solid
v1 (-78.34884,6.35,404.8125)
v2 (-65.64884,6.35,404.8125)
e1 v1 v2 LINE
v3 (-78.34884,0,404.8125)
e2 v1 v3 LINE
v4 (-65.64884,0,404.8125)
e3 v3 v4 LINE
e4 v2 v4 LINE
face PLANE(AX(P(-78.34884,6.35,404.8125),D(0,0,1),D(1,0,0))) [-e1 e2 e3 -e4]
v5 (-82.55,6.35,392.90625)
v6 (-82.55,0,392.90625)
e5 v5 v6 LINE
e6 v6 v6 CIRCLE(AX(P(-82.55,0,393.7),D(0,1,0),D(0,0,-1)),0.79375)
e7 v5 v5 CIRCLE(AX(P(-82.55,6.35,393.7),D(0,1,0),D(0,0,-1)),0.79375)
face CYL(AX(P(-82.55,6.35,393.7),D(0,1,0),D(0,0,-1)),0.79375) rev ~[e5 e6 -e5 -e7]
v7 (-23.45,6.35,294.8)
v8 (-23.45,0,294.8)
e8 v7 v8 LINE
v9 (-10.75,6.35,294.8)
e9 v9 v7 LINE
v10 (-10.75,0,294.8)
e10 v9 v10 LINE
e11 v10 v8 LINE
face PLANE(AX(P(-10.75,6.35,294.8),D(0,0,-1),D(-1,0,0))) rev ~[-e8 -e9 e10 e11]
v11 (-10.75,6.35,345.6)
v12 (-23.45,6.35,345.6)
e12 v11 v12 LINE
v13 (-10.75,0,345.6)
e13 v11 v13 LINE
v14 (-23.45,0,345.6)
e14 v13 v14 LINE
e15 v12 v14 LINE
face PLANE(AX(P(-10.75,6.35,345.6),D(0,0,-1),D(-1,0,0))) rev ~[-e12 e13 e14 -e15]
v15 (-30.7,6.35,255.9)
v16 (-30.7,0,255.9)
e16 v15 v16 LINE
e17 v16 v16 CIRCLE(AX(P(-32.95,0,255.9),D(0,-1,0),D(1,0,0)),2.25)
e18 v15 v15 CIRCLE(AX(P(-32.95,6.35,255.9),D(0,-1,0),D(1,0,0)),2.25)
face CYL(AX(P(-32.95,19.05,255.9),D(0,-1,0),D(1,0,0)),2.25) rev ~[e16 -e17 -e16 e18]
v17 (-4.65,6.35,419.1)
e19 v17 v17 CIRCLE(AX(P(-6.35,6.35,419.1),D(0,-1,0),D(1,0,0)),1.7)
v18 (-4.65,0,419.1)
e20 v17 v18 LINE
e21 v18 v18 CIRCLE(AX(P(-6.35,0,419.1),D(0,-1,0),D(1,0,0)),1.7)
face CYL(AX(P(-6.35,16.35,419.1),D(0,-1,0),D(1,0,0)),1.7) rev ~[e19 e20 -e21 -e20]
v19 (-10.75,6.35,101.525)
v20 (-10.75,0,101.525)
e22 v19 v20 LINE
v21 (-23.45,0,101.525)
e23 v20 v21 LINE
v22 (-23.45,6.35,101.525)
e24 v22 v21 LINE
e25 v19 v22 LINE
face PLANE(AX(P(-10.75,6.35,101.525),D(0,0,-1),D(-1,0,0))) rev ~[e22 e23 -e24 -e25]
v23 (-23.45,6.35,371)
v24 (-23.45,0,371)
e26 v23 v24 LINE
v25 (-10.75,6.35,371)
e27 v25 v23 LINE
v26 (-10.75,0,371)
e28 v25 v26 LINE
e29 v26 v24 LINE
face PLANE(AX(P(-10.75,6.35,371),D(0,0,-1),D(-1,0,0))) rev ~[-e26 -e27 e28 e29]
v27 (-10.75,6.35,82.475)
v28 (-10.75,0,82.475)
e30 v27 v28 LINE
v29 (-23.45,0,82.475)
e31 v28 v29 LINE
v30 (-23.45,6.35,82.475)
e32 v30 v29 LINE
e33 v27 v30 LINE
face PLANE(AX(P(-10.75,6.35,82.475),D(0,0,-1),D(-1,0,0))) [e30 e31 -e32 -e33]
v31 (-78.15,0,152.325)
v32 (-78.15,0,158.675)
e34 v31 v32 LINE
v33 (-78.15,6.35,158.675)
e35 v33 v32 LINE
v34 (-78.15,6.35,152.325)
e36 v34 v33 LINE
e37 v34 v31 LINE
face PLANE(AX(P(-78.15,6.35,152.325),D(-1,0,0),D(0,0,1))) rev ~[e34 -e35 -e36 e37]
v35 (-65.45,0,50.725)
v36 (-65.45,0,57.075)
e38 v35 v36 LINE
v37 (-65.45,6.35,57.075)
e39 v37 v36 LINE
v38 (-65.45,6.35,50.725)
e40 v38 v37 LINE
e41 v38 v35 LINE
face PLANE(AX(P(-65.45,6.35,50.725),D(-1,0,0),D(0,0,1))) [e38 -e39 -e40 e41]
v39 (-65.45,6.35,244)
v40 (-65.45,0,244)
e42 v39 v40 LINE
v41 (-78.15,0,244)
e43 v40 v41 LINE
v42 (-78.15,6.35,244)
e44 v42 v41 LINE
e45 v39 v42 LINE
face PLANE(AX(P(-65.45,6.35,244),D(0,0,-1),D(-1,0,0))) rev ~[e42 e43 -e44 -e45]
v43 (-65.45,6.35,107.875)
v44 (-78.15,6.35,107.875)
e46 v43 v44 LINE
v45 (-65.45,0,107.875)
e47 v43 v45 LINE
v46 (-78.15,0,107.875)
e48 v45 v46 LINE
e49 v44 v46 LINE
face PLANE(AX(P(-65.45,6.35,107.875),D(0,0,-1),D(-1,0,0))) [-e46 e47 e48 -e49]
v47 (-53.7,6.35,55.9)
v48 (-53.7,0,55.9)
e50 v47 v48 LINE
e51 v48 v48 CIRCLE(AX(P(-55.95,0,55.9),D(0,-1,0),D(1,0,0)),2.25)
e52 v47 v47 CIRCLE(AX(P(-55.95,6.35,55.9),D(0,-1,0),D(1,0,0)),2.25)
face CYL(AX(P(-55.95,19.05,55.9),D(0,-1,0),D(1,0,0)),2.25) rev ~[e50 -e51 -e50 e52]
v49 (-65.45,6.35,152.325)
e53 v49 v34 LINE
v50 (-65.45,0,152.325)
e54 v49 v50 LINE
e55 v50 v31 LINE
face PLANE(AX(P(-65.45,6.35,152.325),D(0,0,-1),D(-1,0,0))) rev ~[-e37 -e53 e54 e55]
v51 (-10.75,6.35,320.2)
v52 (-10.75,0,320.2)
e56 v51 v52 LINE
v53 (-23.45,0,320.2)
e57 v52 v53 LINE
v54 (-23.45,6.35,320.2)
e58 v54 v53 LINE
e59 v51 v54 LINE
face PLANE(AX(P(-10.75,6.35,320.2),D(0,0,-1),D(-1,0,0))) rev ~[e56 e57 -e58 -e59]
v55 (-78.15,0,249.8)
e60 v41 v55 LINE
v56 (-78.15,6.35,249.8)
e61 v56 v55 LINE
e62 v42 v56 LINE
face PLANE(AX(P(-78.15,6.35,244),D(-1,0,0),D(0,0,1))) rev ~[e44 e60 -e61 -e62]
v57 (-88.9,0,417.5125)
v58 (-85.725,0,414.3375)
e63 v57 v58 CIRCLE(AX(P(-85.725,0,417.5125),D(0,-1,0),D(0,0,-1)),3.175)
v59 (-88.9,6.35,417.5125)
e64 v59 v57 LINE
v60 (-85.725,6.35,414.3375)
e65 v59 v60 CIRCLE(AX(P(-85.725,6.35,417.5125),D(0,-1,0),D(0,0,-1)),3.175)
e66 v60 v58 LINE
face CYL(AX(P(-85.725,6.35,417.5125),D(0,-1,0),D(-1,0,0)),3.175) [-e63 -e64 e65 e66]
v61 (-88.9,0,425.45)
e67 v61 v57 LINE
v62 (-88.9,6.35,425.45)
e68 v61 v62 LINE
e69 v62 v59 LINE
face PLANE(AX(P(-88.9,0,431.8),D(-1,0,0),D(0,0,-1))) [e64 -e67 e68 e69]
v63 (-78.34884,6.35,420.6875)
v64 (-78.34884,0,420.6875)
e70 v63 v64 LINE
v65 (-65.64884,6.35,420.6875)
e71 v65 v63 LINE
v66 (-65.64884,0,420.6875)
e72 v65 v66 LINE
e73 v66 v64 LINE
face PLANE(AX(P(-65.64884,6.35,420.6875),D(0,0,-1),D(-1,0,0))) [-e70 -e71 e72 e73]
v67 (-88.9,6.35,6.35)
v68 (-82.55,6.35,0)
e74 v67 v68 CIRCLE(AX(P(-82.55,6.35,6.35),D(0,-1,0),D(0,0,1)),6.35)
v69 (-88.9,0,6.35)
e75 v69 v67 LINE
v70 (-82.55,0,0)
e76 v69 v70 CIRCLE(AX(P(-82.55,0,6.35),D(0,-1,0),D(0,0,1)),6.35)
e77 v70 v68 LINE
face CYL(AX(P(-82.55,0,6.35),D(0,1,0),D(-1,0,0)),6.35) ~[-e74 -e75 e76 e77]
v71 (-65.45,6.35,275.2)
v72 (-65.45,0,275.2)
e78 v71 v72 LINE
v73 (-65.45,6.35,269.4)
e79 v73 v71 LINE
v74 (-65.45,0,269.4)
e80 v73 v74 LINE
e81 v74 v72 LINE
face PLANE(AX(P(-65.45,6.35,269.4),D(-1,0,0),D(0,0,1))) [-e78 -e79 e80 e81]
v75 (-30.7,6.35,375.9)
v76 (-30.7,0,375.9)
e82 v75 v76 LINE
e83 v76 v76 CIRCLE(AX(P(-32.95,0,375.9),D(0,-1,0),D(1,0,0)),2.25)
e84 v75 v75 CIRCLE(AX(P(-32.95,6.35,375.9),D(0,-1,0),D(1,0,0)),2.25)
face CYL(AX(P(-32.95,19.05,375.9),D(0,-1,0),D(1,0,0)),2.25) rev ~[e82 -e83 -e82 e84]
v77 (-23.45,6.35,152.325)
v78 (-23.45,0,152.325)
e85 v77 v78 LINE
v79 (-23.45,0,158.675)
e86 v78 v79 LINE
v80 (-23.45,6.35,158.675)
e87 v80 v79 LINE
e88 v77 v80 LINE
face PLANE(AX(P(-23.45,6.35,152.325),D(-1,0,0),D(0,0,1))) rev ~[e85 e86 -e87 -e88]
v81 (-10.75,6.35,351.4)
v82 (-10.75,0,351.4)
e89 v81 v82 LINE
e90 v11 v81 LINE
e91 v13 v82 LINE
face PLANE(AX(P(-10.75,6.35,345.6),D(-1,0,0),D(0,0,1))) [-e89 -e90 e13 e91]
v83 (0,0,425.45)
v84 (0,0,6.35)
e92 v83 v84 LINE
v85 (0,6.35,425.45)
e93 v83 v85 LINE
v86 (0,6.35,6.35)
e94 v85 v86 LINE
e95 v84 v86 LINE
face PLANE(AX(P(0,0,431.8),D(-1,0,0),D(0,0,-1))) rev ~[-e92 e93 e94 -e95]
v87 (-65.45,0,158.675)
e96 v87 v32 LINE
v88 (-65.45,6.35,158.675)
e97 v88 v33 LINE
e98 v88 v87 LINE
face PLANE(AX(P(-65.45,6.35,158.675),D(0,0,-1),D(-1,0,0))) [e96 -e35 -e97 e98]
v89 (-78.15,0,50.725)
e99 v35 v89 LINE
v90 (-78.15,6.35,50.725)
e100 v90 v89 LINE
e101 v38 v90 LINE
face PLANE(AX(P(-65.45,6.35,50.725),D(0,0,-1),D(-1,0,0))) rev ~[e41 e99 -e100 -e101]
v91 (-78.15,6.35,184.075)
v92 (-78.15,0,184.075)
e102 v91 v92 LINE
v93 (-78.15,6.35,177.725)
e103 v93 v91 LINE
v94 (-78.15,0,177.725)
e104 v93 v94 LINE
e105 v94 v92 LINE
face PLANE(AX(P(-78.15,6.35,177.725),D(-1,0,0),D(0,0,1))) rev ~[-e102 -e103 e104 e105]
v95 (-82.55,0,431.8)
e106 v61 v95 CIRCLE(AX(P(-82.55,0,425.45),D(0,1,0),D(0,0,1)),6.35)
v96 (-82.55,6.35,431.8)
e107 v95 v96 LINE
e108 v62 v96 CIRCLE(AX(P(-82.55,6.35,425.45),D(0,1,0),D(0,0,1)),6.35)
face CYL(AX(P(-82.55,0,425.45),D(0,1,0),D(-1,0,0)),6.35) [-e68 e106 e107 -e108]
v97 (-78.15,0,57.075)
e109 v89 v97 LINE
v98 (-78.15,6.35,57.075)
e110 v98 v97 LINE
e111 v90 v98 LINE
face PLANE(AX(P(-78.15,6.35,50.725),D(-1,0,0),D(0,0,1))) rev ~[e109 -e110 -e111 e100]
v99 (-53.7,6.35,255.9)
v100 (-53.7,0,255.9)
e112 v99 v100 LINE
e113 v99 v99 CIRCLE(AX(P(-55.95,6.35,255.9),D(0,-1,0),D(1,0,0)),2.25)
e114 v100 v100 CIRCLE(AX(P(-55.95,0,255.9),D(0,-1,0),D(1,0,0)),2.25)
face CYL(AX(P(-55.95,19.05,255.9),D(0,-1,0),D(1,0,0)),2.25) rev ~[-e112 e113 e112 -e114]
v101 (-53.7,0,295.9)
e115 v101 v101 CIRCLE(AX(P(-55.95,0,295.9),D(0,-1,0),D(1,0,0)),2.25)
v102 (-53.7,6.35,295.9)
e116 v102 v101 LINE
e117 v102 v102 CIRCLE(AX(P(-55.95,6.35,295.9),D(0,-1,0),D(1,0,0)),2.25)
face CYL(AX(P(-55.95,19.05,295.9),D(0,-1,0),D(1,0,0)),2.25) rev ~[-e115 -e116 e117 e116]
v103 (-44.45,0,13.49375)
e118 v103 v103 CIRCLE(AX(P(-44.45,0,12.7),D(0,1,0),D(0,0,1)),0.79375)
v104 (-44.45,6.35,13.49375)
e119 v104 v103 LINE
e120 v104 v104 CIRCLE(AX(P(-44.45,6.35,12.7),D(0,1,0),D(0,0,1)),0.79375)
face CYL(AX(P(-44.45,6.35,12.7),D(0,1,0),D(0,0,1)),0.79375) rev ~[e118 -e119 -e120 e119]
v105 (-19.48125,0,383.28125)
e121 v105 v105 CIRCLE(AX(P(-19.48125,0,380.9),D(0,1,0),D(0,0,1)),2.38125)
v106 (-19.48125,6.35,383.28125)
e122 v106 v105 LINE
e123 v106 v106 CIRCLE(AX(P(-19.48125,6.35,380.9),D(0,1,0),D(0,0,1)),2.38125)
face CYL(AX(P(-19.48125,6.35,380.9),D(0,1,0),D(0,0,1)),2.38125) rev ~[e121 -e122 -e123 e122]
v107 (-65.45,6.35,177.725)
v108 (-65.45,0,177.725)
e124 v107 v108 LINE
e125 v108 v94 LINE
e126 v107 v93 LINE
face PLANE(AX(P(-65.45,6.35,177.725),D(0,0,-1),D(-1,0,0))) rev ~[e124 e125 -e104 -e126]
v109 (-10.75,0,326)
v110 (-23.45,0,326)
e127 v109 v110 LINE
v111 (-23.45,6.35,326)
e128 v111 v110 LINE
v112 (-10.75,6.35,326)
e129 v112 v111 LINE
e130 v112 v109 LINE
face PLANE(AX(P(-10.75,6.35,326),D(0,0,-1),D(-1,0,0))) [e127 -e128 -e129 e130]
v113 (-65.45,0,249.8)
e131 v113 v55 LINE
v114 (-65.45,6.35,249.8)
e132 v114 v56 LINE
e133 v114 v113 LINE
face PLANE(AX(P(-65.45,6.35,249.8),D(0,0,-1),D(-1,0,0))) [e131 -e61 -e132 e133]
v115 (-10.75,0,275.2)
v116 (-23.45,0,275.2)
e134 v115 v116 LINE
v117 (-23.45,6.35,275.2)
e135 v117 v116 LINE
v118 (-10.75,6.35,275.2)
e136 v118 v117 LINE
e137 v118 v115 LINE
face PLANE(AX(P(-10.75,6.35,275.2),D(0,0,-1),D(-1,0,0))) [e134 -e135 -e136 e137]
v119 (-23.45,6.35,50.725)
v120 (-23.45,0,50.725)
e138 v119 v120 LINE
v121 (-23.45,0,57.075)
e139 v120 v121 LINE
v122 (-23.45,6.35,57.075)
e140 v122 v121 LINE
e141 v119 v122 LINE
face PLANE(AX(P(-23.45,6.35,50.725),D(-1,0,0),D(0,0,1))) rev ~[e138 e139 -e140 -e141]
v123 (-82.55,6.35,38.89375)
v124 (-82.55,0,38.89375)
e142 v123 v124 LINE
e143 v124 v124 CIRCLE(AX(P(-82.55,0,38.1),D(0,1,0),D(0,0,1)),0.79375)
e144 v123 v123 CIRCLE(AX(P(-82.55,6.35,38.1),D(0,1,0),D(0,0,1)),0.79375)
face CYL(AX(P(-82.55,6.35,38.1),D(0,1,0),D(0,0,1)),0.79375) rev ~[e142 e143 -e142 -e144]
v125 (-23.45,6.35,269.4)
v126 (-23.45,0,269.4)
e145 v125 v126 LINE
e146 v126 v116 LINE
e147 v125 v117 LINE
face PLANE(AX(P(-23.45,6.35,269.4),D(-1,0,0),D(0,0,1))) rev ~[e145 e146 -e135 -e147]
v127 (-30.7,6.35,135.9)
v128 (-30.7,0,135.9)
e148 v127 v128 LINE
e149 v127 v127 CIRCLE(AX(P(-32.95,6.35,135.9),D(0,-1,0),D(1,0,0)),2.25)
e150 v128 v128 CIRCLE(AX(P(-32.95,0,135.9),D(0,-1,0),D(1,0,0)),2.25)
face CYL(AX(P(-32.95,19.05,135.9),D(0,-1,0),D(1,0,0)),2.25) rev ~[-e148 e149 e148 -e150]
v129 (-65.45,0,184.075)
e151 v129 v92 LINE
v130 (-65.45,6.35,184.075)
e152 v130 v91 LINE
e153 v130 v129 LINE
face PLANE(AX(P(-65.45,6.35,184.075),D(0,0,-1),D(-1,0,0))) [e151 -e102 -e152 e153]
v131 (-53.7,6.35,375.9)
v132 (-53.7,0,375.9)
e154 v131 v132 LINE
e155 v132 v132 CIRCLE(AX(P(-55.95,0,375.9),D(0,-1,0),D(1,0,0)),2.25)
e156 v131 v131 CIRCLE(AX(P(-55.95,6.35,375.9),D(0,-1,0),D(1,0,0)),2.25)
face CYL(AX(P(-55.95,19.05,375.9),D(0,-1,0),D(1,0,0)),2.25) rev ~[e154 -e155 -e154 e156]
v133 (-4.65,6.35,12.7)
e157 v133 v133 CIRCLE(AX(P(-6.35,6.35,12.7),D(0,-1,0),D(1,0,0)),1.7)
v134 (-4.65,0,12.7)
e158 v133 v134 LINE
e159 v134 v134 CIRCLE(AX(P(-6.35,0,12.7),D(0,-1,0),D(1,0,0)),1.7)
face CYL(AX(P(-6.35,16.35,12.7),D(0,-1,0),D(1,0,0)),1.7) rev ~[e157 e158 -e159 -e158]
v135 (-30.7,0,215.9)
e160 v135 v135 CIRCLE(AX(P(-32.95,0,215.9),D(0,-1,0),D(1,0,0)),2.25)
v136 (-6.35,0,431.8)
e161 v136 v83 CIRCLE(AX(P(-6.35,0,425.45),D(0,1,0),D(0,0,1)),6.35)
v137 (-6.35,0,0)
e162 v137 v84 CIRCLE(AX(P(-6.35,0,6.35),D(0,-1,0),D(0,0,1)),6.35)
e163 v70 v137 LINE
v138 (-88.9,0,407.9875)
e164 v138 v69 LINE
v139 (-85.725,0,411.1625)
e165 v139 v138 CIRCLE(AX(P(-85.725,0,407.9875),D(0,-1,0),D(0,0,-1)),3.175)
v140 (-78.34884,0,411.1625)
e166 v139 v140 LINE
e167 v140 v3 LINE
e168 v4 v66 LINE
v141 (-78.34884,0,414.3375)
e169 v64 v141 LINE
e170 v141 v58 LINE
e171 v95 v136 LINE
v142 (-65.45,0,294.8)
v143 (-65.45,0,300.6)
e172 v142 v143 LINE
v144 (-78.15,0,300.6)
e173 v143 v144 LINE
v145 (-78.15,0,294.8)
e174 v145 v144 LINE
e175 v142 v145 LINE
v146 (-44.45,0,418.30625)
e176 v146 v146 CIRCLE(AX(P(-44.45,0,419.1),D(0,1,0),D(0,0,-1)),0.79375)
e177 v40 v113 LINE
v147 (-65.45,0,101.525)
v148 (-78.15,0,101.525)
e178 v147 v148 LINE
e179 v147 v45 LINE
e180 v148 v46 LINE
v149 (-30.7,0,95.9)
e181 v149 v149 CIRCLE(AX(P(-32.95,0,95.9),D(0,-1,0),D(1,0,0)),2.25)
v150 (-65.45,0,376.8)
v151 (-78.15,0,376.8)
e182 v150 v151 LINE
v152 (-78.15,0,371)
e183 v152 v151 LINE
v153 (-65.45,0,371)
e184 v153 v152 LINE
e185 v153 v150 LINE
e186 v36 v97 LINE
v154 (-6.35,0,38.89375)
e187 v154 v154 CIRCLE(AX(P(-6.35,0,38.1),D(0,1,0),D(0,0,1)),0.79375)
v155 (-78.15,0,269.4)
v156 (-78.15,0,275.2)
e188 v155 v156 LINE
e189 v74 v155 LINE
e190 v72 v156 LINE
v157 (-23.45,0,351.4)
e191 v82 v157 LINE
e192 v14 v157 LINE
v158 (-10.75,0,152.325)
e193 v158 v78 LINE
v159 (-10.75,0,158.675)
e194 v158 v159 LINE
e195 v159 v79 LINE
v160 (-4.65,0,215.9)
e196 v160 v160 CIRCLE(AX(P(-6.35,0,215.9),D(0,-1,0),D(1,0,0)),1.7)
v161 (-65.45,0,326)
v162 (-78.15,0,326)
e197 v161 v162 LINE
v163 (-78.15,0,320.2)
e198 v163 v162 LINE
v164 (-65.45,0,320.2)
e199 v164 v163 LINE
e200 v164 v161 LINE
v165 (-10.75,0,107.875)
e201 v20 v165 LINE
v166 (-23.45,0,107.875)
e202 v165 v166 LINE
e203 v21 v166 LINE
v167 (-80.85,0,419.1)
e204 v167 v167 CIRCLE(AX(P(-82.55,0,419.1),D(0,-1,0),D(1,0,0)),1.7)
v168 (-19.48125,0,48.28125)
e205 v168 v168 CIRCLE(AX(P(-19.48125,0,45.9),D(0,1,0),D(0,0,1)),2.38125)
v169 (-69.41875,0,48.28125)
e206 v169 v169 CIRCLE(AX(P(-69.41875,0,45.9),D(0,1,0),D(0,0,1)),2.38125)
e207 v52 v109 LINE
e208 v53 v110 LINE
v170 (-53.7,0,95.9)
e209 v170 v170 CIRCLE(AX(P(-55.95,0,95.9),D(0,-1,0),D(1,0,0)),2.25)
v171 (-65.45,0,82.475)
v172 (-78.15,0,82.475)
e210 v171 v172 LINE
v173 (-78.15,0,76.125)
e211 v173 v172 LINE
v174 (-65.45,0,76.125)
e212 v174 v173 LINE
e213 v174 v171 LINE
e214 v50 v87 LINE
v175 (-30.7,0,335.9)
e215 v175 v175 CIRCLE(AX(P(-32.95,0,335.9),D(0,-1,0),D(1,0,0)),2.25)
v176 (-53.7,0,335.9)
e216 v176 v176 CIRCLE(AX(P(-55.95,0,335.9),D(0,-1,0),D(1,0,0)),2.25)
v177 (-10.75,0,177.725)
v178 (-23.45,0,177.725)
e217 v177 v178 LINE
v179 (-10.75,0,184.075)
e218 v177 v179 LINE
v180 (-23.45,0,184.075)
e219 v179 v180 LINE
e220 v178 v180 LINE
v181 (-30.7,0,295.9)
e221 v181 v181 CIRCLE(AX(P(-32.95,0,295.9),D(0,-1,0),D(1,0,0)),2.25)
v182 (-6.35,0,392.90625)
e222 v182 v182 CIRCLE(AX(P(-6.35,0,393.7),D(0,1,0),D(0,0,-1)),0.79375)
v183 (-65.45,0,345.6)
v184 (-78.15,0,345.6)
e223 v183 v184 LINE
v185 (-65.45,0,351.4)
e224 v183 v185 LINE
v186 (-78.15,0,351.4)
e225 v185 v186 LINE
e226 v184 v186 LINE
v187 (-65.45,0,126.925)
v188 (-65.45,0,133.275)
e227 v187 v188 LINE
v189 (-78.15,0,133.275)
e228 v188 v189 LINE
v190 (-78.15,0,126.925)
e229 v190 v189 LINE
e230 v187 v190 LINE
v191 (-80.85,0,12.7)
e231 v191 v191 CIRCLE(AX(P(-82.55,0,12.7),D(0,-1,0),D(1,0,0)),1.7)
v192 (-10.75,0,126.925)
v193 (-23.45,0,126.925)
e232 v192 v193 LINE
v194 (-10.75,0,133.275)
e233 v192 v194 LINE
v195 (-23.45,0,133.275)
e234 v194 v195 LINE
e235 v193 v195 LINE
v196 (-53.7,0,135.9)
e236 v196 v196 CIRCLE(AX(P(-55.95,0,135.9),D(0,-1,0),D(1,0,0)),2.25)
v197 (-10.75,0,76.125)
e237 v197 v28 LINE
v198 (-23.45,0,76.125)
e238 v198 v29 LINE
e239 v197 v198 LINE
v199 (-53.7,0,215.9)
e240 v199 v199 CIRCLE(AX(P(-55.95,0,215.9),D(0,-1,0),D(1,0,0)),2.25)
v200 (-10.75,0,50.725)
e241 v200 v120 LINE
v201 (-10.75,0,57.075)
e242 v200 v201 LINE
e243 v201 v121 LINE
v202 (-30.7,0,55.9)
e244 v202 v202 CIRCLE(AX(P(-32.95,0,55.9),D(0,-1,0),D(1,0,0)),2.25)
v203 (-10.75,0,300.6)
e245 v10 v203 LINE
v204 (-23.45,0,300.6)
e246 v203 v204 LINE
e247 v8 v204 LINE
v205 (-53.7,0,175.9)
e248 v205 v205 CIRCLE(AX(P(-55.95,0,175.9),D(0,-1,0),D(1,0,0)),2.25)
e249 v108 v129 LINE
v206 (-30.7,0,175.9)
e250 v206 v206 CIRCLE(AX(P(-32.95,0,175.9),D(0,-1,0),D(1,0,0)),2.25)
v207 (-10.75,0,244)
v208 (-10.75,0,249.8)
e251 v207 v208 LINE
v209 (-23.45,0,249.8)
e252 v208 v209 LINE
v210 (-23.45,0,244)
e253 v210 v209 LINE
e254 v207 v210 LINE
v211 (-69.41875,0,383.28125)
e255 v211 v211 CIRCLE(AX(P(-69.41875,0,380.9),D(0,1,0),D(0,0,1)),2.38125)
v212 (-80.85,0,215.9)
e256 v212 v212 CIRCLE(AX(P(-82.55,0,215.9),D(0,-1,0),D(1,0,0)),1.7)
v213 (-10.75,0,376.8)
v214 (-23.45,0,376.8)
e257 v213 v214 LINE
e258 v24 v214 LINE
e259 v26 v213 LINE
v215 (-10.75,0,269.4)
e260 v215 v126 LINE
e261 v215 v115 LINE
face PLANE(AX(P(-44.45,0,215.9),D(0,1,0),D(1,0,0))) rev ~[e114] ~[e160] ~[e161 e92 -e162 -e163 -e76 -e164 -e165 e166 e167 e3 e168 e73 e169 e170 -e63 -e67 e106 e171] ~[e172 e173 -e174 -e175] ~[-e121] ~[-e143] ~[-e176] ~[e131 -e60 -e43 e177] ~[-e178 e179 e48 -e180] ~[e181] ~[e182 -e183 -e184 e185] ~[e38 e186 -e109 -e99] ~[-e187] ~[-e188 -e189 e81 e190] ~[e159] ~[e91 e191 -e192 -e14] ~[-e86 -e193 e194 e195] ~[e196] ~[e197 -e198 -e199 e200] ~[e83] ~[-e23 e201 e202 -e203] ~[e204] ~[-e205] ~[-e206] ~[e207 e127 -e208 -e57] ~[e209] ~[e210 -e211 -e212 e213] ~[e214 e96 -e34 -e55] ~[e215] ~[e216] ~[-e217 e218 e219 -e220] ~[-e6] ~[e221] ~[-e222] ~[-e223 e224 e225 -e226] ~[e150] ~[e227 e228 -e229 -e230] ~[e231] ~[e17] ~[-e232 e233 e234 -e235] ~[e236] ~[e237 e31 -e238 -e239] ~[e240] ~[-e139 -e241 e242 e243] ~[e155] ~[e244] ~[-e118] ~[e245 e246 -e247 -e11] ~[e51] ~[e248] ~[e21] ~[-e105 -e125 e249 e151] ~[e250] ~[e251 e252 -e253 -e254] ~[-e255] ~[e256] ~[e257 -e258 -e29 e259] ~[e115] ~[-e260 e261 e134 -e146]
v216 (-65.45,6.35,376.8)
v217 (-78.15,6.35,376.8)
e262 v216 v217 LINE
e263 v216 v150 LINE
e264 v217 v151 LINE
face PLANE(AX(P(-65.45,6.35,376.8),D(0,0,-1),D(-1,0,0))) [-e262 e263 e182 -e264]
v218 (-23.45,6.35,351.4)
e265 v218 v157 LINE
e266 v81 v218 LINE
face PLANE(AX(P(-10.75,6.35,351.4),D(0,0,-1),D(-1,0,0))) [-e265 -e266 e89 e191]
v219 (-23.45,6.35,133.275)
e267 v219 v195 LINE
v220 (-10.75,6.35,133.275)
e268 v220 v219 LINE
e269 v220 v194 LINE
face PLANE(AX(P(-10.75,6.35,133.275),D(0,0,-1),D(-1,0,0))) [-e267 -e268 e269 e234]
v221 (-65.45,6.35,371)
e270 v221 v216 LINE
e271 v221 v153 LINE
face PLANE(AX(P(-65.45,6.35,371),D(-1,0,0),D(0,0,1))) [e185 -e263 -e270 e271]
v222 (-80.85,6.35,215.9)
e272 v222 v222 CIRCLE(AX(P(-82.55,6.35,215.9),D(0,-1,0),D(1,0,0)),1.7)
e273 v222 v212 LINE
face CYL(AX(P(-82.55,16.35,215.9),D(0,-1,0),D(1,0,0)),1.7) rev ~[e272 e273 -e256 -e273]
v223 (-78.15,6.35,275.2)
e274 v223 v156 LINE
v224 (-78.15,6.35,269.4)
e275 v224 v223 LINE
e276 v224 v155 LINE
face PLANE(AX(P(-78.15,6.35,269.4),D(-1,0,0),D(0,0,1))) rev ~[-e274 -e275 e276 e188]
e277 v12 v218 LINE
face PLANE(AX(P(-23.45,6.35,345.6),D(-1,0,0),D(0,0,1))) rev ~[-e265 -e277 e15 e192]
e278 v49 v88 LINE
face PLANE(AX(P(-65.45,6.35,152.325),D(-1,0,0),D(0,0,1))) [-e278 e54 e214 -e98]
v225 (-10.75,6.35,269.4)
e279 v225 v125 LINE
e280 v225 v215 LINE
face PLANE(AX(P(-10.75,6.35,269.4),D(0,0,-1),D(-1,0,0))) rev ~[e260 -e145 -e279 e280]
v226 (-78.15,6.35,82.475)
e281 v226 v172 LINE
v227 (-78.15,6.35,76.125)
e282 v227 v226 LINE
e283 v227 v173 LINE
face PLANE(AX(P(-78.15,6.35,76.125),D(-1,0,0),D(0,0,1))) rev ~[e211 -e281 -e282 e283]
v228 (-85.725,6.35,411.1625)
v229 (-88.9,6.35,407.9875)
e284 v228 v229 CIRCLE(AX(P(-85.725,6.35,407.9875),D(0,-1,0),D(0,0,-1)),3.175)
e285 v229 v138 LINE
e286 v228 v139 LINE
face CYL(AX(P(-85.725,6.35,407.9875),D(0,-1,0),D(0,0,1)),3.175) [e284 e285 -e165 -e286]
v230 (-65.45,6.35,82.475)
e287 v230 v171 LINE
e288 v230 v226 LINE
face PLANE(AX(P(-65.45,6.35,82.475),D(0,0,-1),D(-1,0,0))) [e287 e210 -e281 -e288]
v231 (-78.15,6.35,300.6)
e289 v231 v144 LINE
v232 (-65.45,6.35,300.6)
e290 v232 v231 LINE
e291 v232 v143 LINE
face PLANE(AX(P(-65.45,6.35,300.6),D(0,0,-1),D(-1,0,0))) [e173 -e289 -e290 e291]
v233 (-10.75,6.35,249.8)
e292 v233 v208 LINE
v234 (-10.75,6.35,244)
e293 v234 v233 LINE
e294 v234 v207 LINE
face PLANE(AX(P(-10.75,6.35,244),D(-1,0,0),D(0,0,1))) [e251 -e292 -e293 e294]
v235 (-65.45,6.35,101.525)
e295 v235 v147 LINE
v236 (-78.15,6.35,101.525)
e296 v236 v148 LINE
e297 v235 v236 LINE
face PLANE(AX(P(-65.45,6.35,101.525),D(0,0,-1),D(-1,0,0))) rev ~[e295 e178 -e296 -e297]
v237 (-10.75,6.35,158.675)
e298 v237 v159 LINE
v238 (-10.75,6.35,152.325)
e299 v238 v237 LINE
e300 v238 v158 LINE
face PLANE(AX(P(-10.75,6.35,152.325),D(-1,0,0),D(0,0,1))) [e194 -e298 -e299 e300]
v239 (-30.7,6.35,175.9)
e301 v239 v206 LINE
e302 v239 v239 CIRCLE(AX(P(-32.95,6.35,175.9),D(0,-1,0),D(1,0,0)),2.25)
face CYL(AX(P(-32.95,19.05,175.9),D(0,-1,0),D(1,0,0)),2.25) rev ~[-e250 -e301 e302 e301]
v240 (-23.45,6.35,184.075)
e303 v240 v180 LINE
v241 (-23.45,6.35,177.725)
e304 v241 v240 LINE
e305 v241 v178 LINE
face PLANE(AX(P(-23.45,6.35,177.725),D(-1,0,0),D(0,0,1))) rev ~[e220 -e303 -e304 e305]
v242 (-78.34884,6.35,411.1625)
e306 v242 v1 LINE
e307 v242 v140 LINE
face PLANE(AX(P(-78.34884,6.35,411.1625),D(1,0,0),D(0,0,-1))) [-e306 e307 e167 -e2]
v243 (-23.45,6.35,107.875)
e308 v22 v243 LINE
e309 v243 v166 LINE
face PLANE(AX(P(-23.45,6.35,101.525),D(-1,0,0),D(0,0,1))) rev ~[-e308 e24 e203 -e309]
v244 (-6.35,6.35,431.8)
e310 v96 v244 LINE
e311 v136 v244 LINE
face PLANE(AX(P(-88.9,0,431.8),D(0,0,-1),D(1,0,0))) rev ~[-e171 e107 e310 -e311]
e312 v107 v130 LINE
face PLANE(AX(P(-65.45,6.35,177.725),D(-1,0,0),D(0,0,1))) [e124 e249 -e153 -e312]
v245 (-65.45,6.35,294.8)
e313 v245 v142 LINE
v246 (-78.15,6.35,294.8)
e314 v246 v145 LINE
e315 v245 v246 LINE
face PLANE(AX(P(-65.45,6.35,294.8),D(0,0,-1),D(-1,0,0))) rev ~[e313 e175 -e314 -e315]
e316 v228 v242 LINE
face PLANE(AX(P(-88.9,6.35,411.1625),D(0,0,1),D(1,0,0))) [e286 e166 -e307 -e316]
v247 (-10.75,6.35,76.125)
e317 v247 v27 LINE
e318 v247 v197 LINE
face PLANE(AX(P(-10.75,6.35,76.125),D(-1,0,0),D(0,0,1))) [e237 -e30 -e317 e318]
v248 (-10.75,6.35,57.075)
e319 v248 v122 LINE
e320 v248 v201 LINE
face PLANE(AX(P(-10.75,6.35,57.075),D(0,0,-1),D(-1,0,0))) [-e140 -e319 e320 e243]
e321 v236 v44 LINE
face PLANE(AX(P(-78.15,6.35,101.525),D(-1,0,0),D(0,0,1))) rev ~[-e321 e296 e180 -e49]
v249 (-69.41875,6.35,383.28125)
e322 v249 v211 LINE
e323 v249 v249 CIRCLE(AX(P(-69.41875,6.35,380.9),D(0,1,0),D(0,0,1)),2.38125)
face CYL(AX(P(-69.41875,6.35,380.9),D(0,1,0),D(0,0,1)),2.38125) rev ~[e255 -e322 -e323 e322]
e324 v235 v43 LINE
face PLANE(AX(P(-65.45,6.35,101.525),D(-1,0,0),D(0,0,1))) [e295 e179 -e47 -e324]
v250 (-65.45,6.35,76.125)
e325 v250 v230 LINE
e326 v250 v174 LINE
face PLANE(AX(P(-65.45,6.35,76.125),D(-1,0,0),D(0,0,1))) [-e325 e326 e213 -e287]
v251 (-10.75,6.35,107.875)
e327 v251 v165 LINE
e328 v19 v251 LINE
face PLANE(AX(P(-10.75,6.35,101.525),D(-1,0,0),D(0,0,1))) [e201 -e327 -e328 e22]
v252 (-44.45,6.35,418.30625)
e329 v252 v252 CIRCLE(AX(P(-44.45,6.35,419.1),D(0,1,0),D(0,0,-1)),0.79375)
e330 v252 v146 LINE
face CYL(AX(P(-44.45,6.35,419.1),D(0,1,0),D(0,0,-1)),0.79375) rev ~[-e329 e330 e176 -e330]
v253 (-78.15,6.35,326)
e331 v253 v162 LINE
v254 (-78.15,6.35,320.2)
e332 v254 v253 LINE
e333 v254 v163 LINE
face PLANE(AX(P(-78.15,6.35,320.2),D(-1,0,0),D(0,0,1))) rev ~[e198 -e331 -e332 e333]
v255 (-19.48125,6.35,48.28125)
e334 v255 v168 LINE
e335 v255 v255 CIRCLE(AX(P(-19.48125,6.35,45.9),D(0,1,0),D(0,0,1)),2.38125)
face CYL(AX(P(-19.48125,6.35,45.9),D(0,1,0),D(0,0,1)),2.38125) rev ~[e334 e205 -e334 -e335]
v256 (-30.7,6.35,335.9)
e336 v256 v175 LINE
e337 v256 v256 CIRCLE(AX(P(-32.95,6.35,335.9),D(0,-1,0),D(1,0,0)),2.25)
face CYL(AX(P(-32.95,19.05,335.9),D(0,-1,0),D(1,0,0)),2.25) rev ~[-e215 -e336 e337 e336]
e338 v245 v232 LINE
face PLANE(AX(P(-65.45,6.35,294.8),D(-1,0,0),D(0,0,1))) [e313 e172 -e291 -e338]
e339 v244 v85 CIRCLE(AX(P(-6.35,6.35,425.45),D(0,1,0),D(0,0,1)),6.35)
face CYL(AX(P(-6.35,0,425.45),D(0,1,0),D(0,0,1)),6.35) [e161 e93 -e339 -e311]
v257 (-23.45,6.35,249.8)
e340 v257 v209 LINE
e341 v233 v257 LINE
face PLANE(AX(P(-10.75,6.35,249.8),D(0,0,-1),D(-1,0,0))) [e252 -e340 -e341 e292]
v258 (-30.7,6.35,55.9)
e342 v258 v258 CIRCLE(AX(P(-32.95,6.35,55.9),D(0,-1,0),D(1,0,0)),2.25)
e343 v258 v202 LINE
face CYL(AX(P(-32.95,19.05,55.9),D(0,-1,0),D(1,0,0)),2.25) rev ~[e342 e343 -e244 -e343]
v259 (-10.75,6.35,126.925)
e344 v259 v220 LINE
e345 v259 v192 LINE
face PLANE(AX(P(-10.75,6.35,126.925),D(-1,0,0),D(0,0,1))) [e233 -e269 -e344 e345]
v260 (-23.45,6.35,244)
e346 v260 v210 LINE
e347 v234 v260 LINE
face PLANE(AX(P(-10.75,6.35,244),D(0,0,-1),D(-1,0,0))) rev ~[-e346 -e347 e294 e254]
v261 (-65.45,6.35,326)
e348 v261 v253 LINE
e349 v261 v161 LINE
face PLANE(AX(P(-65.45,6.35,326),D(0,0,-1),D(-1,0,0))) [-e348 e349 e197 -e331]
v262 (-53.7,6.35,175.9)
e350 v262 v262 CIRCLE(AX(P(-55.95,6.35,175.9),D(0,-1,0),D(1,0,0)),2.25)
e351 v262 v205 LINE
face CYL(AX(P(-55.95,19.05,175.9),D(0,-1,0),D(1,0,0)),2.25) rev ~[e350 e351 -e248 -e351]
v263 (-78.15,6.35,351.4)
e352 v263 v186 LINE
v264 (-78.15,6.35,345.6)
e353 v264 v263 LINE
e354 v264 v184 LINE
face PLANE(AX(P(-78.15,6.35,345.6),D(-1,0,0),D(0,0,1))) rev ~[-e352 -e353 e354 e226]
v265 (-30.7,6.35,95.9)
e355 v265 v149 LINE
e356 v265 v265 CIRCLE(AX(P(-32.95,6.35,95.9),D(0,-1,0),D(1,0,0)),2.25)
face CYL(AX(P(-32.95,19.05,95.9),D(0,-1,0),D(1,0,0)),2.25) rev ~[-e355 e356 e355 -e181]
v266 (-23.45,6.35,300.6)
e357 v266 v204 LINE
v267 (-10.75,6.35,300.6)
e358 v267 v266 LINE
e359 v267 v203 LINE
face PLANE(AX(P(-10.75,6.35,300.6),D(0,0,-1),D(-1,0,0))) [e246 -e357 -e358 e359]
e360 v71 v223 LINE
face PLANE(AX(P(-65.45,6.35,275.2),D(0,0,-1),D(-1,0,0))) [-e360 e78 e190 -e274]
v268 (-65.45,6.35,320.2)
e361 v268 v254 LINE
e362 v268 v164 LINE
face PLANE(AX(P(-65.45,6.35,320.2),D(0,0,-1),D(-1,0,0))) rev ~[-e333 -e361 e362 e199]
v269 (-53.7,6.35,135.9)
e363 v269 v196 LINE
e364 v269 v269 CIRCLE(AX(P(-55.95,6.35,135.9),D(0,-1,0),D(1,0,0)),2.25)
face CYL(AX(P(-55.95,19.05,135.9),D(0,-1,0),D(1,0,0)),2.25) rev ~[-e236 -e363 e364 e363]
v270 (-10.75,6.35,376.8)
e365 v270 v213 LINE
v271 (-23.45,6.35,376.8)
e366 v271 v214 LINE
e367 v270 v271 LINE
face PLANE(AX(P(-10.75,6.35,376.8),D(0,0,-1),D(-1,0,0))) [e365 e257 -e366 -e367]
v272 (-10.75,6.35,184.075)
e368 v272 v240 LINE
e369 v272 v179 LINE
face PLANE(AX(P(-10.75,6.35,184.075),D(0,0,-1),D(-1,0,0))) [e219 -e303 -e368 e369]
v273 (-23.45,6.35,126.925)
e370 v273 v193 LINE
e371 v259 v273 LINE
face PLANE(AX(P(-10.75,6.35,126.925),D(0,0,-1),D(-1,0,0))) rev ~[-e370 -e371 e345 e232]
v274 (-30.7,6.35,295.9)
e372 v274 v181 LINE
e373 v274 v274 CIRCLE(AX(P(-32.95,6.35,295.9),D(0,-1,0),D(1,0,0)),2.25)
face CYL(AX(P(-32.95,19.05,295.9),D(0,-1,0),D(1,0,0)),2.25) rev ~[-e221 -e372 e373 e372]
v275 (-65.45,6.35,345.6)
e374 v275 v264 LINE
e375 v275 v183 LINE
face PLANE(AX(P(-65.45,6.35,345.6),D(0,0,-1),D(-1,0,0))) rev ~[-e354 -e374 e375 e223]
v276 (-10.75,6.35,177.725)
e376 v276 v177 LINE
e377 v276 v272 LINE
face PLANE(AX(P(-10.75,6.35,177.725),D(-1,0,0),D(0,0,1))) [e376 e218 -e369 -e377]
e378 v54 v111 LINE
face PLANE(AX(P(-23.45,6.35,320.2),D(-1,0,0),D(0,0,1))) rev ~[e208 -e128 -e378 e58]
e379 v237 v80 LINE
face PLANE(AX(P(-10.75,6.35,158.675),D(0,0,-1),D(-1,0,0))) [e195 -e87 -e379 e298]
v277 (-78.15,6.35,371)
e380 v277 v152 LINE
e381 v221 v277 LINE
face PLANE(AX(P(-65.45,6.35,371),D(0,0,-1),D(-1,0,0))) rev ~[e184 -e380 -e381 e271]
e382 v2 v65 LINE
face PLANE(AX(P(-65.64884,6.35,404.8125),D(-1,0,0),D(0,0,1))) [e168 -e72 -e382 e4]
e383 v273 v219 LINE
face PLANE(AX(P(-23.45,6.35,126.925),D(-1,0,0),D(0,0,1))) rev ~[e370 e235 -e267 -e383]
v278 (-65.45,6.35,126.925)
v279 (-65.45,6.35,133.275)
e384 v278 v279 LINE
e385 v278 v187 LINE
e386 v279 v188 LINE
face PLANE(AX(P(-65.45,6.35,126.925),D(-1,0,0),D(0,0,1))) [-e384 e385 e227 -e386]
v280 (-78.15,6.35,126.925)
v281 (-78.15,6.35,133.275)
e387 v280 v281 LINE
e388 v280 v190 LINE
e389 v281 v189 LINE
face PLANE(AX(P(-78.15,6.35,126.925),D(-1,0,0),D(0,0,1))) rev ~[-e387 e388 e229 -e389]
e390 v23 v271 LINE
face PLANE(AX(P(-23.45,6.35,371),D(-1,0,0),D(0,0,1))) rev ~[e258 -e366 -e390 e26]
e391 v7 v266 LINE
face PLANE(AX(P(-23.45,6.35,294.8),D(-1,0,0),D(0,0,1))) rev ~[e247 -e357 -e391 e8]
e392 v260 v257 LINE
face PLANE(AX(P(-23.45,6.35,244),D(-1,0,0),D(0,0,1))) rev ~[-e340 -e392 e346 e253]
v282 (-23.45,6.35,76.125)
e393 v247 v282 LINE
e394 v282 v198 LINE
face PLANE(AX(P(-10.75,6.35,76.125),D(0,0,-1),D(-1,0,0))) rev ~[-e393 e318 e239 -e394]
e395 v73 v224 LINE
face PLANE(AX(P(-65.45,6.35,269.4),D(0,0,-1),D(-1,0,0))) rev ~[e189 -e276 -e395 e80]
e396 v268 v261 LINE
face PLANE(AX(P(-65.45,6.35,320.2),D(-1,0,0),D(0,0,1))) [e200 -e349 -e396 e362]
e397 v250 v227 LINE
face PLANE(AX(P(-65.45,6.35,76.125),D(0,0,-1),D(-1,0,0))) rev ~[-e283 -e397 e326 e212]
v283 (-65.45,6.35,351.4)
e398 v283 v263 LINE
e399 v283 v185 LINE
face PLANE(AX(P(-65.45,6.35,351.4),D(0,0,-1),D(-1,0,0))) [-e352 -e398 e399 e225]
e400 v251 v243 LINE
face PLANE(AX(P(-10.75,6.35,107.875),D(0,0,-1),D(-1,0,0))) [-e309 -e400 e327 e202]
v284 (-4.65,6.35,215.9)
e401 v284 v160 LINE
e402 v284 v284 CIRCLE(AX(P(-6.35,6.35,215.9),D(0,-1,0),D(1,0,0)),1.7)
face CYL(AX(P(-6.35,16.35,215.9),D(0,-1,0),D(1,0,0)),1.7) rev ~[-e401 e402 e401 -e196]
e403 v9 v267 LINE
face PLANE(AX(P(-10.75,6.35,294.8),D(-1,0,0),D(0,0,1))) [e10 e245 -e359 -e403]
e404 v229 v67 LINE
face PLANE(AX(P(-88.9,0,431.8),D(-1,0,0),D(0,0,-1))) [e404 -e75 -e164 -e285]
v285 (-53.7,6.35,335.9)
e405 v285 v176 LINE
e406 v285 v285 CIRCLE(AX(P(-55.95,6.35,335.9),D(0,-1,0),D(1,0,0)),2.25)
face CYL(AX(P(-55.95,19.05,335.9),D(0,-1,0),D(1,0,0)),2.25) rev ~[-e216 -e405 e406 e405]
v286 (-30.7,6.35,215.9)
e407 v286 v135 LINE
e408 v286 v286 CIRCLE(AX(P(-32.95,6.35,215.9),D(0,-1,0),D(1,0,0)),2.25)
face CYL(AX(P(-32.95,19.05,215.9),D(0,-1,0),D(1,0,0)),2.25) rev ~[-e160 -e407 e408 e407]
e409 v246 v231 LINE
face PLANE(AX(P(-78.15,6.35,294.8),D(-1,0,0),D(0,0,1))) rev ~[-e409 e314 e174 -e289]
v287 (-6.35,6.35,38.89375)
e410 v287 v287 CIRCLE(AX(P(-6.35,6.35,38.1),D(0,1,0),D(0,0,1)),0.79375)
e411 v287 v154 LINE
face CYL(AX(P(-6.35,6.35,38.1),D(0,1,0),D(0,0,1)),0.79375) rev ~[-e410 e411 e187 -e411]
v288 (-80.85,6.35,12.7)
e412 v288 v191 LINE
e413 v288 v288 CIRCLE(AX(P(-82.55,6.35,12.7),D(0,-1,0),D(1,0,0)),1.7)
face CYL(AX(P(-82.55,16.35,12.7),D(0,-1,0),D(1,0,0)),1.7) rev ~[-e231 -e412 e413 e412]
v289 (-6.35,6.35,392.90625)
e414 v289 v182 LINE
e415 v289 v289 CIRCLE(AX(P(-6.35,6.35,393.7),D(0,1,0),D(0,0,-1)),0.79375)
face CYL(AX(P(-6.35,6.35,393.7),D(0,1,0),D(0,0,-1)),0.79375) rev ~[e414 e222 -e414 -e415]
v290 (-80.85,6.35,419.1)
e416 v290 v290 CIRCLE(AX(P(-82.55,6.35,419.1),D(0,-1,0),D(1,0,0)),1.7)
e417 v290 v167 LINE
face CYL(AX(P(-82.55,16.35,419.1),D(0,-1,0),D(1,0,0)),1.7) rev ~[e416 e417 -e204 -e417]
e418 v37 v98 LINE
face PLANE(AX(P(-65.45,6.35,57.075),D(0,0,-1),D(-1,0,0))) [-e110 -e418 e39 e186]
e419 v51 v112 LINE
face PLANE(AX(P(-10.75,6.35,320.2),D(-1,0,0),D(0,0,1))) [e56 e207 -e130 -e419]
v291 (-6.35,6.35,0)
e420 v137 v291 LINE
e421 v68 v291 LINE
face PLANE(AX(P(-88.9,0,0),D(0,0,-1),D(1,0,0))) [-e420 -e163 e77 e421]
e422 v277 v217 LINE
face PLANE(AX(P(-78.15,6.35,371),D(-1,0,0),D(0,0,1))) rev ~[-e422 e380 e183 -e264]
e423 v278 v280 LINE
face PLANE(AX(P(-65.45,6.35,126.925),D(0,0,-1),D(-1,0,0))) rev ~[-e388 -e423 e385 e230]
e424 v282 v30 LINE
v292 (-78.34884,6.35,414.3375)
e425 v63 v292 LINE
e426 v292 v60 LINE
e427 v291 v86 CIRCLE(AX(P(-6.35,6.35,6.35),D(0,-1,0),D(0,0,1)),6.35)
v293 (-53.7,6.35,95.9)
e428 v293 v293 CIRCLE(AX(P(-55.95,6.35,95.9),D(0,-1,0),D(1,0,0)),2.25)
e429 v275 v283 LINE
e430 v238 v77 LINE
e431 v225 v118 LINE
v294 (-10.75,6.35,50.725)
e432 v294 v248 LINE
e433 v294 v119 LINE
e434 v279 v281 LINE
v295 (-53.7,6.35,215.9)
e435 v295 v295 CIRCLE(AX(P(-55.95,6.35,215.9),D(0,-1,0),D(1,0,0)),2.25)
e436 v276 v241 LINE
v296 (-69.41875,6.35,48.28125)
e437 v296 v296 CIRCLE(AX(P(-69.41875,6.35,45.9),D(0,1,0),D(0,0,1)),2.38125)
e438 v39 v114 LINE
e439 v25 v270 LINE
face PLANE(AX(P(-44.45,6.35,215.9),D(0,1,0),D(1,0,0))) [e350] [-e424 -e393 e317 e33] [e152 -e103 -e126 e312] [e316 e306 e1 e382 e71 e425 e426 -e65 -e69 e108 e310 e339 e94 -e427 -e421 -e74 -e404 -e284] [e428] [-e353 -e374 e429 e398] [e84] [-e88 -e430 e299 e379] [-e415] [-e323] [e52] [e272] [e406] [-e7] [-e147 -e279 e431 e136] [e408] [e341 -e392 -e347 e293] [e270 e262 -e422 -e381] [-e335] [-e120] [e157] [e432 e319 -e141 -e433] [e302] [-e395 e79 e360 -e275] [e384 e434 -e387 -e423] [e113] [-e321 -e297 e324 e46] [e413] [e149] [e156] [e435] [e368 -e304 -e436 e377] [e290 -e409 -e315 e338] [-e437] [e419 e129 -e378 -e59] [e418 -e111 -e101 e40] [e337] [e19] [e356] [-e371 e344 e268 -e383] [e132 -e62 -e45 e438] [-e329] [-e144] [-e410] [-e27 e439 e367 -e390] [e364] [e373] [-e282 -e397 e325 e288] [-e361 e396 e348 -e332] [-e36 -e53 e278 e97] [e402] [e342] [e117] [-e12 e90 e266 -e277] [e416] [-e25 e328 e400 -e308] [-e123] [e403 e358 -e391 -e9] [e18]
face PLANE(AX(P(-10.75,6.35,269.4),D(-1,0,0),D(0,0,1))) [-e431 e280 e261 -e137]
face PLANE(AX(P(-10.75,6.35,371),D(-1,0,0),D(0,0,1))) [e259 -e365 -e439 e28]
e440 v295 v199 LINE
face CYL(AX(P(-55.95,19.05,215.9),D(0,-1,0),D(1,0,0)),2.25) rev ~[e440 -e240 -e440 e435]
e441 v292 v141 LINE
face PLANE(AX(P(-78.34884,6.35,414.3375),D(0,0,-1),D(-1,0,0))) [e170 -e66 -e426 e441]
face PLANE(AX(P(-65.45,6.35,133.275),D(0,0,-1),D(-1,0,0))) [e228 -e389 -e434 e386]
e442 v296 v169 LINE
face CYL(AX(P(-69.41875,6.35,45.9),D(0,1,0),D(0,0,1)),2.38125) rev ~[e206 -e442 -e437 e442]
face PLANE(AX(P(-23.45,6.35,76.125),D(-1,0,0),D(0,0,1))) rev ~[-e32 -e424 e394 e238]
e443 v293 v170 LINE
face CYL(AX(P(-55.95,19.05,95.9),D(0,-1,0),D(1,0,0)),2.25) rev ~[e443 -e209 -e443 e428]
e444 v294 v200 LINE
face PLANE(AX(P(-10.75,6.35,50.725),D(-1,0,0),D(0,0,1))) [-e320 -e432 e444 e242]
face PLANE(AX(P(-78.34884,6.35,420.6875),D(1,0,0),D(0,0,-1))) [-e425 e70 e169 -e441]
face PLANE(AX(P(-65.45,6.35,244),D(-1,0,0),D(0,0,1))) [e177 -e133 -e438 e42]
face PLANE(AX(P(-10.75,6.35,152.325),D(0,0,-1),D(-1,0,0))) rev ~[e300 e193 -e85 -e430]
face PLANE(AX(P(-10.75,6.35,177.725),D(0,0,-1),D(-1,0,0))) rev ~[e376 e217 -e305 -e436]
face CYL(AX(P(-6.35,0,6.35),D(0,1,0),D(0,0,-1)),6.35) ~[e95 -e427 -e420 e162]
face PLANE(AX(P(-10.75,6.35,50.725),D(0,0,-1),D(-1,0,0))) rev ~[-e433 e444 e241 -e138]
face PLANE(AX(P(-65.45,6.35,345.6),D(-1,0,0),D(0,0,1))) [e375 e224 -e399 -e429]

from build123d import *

# Parameters (mm, degrees)
SKETCH1_W                = 88.9
SKETCH1_H                = 431.8
BOSS_EXTRUDE1_DEPTH      = 6.35
M4_CLEARANCE_HOLE2_D     = 4.5
M4_CLEARANCE_HOLE2_DEPTH = 12.7
M4_CLEARANCE_HOLE2_TIP   = 1.351936393
M3_CLEARANCE_HOLE1_D     = 3.4
M3_CLEARANCE_HOLE1_DEPTH = 10
M3_CLEARANCE_HOLE1_TIP   = 1.021463052
SKETCH5_R                = 0.79375
CUT_EXTRUDE2_DEPTH       = 441.902225556
SKETCH6_W                = 12.7
SKETCH6_H                = 6.35
SKETCH6_H_2              = 5.8
CUT_EXTRUDE3_DEPTH       = 441.902225556
FILLET1_R                = 6.35
SKETCH10_R               = 2.38125
CUT_EXTRUDE4_DEPTH       = 441.902225556
CUT_EXTRUDE5_DEPTH       = 441.902225556
FILLET2_R                = 3.175


with BuildPart() as part:
    # Sketch1 → Boss-Extrude1 (new body)
    with BuildSketch(Plane(origin=(0, 0, 0), x_dir=(1, 0, 0), z_dir=(0, 1, 0))):
        with Locations((-44.45, -215.9)):
            Rectangle(SKETCH1_W, SKETCH1_H)
    extrude(amount=BOSS_EXTRUDE1_DEPTH)

    # M4 Clearance Hole2
    with Locations(Plane(origin=(0, 6.35, 0), x_dir=(-1, 0, 0), z_dir=(0, 1, 0))):
        with Locations((32.95, 215.9), (55.95, 215.9), (32.95, 255.9), (55.95, 255.9), (32.95, 295.9), (55.95, 295.9), (32.95, 335.9), (55.95, 335.9), (32.95, 375.9), (55.95, 375.9), (32.95, 175.9), (55.95, 175.9), (32.95, 135.9), (55.95, 135.9), (32.95, 95.9), (55.95, 95.9), (32.95, 55.9), (55.95, 55.9)):
            Hole(M4_CLEARANCE_HOLE2_D / 2, depth=M4_CLEARANCE_HOLE2_DEPTH)
            with Locations((0, 0, -(M4_CLEARANCE_HOLE2_DEPTH + M4_CLEARANCE_HOLE2_TIP / 2))):  # 118° drill point
                Cone(0, M4_CLEARANCE_HOLE2_D / 2, M4_CLEARANCE_HOLE2_TIP, mode=Mode.SUBTRACT)

    # M3 Clearance Hole1
    with Locations(Plane(origin=(0, 6.35, 0), x_dir=(-1, 0, 0), z_dir=(0, 1, 0))):
        with Locations((82.55, 12.7), (6.35, 12.7), (6.35, 419.1), (82.55, 419.1), (82.55, 215.9), (6.35, 215.9)):
            Hole(M3_CLEARANCE_HOLE1_D / 2, depth=M3_CLEARANCE_HOLE1_DEPTH)
            with Locations((0, 0, -(M3_CLEARANCE_HOLE1_DEPTH + M3_CLEARANCE_HOLE1_TIP / 2))):  # 118° drill point
                Cone(0, M3_CLEARANCE_HOLE1_D / 2, M3_CLEARANCE_HOLE1_TIP, mode=Mode.SUBTRACT)

    # Sketch5 → Cut-Extrude2 (cut, through all)
    with BuildSketch(Plane(origin=(0, 6.35, 0), x_dir=(1, 0, 0), z_dir=(0, 1, 0))):
        with Locations(Location((-44.45, -12.7, 0), (0, 0, 270))):
            Circle(SKETCH5_R)
        with Locations(Location((-82.55, -38.1, 0), (0, 0, 270))):
            Circle(SKETCH5_R)
        with Locations(Location((-6.35, -38.1, 0), (0, 0, 270))):
            Circle(SKETCH5_R)
        with Locations(Location((-6.35, -393.7, 0), (0, 0, 90))):
            Circle(SKETCH5_R)
        with Locations(Location((-82.55, -393.7, 0), (0, 0, 90))):
            Circle(SKETCH5_R)
        with Locations(Location((-44.45, -419.1, 0), (0, 0, 90))):
            Circle(SKETCH5_R)
    extrude(amount=-CUT_EXTRUDE2_DEPTH, mode=Mode.SUBTRACT)

    # Sketch6 → Cut-Extrude3 (cut, through all)
    with BuildSketch(Plane(origin=(0, 6.35, 0), x_dir=(-1, 0, 0), z_dir=(0, 1, 0))):
        with Locations((71.8, 53.9)):
            Rectangle(SKETCH6_W, SKETCH6_H)
        with Locations((17.1, 53.9)):
            Rectangle(SKETCH6_W, SKETCH6_H)
        with Locations((71.8, 373.9)):
            Rectangle(SKETCH6_W, SKETCH6_H_2)
        with Locations((17.1, 373.9)):
            Rectangle(SKETCH6_W, SKETCH6_H_2)
        with Locations((71.8, 348.5)):
            Rectangle(SKETCH6_W, SKETCH6_H_2)
        with Locations((17.1, 348.5)):
            Rectangle(SKETCH6_W, SKETCH6_H_2)
        with Locations((71.8, 323.1)):
            Rectangle(SKETCH6_W, SKETCH6_H_2)
        with Locations((17.1, 323.1)):
            Rectangle(SKETCH6_W, SKETCH6_H_2)
        with Locations((71.8, 297.7)):
            Rectangle(SKETCH6_W, SKETCH6_H_2)
        with Locations((17.1, 297.7)):
            Rectangle(SKETCH6_W, SKETCH6_H_2)
        with Locations((71.8, 272.3)):
            Rectangle(SKETCH6_W, SKETCH6_H_2)
        with Locations((17.1, 272.3)):
            Rectangle(SKETCH6_W, SKETCH6_H_2)
        with Locations((71.8, 246.9)):
            Rectangle(SKETCH6_W, SKETCH6_H_2)
        with Locations((17.1, 246.9)):
            Rectangle(SKETCH6_W, SKETCH6_H_2)
        with Locations((71.8, 79.3)):
            Rectangle(SKETCH6_W, SKETCH6_H)
        with Locations((17.1, 79.3)):
            Rectangle(SKETCH6_W, SKETCH6_H)
        with Locations((71.8, 104.7)):
            Rectangle(SKETCH6_W, SKETCH6_H)
        with Locations((17.1, 104.7)):
            Rectangle(SKETCH6_W, SKETCH6_H)
        with Locations((71.8, 130.1)):
            Rectangle(SKETCH6_W, SKETCH6_H)
        with Locations((17.1, 130.1)):
            Rectangle(SKETCH6_W, SKETCH6_H)
        with Locations((71.8, 155.5)):
            Rectangle(SKETCH6_W, SKETCH6_H)
        with Locations((17.1, 155.5)):
            Rectangle(SKETCH6_W, SKETCH6_H)
        with Locations((71.8, 180.9)):
            Rectangle(SKETCH6_W, SKETCH6_H)
        with Locations((17.1, 180.9)):
            Rectangle(SKETCH6_W, SKETCH6_H)
    extrude(amount=-CUT_EXTRUDE3_DEPTH, mode=Mode.SUBTRACT)

    # Fillet1
    fillet1_edges = [part.edges().sort_by_distance(p)[0] for p in [
        (0, 3.175, 431.8),
        (-88.9, 3.175, 431.8),
        (-88.9, 3.175, 0),
        (0, 3.175, 0),
    ]]
    fillet(fillet1_edges, radius=FILLET1_R)

    # Sketch10 → Cut-Extrude4 (cut, through all)
    with BuildSketch(Plane(origin=(0, 6.35, 0), x_dir=(1, 0, 0), z_dir=(0, 1, 0))):
        with Locations(Location((-19.48125, -380.9, 0), (0, 0, 270))):
            Circle(SKETCH10_R)
        with Locations(Location((-69.41875, -380.9, 0), (0, 0, 270))):
            Circle(SKETCH10_R)
        with Locations(Location((-69.41875, -45.9, 0), (0, 0, 270))):
            Circle(SKETCH10_R)
        with Locations(Location((-19.48125, -45.9, 0), (0, 0, 270))):
            Circle(SKETCH10_R)
    extrude(amount=-CUT_EXTRUDE4_DEPTH, mode=Mode.SUBTRACT)

    # Sketch11 → Cut-Extrude5 (cut, through all)
    with BuildSketch(Plane(origin=(0, 6.35, 0), x_dir=(1, 0, 0), z_dir=(0, 1, 0))):
        Polygon((-88.9, -411.1625), (-78.34884, -411.1625), (-78.34884, -404.8125), (-65.64884, -404.8125), (-65.64884, -420.6875), (-78.34884, -420.6875), (-78.34884, -414.3375), (-88.9, -414.3375), align=None)
    extrude(amount=-CUT_EXTRUDE5_DEPTH, mode=Mode.SUBTRACT)

    # Fillet2
    fillet2_edges = [part.edges().sort_by_distance(p)[0] for p in [
        (-88.9, 3.175, 414.3375),
        (-88.9, 3.175, 411.1625),
    ]]
    fillet(fillet2_edges, radius=FILLET2_R)


solid = part.part
